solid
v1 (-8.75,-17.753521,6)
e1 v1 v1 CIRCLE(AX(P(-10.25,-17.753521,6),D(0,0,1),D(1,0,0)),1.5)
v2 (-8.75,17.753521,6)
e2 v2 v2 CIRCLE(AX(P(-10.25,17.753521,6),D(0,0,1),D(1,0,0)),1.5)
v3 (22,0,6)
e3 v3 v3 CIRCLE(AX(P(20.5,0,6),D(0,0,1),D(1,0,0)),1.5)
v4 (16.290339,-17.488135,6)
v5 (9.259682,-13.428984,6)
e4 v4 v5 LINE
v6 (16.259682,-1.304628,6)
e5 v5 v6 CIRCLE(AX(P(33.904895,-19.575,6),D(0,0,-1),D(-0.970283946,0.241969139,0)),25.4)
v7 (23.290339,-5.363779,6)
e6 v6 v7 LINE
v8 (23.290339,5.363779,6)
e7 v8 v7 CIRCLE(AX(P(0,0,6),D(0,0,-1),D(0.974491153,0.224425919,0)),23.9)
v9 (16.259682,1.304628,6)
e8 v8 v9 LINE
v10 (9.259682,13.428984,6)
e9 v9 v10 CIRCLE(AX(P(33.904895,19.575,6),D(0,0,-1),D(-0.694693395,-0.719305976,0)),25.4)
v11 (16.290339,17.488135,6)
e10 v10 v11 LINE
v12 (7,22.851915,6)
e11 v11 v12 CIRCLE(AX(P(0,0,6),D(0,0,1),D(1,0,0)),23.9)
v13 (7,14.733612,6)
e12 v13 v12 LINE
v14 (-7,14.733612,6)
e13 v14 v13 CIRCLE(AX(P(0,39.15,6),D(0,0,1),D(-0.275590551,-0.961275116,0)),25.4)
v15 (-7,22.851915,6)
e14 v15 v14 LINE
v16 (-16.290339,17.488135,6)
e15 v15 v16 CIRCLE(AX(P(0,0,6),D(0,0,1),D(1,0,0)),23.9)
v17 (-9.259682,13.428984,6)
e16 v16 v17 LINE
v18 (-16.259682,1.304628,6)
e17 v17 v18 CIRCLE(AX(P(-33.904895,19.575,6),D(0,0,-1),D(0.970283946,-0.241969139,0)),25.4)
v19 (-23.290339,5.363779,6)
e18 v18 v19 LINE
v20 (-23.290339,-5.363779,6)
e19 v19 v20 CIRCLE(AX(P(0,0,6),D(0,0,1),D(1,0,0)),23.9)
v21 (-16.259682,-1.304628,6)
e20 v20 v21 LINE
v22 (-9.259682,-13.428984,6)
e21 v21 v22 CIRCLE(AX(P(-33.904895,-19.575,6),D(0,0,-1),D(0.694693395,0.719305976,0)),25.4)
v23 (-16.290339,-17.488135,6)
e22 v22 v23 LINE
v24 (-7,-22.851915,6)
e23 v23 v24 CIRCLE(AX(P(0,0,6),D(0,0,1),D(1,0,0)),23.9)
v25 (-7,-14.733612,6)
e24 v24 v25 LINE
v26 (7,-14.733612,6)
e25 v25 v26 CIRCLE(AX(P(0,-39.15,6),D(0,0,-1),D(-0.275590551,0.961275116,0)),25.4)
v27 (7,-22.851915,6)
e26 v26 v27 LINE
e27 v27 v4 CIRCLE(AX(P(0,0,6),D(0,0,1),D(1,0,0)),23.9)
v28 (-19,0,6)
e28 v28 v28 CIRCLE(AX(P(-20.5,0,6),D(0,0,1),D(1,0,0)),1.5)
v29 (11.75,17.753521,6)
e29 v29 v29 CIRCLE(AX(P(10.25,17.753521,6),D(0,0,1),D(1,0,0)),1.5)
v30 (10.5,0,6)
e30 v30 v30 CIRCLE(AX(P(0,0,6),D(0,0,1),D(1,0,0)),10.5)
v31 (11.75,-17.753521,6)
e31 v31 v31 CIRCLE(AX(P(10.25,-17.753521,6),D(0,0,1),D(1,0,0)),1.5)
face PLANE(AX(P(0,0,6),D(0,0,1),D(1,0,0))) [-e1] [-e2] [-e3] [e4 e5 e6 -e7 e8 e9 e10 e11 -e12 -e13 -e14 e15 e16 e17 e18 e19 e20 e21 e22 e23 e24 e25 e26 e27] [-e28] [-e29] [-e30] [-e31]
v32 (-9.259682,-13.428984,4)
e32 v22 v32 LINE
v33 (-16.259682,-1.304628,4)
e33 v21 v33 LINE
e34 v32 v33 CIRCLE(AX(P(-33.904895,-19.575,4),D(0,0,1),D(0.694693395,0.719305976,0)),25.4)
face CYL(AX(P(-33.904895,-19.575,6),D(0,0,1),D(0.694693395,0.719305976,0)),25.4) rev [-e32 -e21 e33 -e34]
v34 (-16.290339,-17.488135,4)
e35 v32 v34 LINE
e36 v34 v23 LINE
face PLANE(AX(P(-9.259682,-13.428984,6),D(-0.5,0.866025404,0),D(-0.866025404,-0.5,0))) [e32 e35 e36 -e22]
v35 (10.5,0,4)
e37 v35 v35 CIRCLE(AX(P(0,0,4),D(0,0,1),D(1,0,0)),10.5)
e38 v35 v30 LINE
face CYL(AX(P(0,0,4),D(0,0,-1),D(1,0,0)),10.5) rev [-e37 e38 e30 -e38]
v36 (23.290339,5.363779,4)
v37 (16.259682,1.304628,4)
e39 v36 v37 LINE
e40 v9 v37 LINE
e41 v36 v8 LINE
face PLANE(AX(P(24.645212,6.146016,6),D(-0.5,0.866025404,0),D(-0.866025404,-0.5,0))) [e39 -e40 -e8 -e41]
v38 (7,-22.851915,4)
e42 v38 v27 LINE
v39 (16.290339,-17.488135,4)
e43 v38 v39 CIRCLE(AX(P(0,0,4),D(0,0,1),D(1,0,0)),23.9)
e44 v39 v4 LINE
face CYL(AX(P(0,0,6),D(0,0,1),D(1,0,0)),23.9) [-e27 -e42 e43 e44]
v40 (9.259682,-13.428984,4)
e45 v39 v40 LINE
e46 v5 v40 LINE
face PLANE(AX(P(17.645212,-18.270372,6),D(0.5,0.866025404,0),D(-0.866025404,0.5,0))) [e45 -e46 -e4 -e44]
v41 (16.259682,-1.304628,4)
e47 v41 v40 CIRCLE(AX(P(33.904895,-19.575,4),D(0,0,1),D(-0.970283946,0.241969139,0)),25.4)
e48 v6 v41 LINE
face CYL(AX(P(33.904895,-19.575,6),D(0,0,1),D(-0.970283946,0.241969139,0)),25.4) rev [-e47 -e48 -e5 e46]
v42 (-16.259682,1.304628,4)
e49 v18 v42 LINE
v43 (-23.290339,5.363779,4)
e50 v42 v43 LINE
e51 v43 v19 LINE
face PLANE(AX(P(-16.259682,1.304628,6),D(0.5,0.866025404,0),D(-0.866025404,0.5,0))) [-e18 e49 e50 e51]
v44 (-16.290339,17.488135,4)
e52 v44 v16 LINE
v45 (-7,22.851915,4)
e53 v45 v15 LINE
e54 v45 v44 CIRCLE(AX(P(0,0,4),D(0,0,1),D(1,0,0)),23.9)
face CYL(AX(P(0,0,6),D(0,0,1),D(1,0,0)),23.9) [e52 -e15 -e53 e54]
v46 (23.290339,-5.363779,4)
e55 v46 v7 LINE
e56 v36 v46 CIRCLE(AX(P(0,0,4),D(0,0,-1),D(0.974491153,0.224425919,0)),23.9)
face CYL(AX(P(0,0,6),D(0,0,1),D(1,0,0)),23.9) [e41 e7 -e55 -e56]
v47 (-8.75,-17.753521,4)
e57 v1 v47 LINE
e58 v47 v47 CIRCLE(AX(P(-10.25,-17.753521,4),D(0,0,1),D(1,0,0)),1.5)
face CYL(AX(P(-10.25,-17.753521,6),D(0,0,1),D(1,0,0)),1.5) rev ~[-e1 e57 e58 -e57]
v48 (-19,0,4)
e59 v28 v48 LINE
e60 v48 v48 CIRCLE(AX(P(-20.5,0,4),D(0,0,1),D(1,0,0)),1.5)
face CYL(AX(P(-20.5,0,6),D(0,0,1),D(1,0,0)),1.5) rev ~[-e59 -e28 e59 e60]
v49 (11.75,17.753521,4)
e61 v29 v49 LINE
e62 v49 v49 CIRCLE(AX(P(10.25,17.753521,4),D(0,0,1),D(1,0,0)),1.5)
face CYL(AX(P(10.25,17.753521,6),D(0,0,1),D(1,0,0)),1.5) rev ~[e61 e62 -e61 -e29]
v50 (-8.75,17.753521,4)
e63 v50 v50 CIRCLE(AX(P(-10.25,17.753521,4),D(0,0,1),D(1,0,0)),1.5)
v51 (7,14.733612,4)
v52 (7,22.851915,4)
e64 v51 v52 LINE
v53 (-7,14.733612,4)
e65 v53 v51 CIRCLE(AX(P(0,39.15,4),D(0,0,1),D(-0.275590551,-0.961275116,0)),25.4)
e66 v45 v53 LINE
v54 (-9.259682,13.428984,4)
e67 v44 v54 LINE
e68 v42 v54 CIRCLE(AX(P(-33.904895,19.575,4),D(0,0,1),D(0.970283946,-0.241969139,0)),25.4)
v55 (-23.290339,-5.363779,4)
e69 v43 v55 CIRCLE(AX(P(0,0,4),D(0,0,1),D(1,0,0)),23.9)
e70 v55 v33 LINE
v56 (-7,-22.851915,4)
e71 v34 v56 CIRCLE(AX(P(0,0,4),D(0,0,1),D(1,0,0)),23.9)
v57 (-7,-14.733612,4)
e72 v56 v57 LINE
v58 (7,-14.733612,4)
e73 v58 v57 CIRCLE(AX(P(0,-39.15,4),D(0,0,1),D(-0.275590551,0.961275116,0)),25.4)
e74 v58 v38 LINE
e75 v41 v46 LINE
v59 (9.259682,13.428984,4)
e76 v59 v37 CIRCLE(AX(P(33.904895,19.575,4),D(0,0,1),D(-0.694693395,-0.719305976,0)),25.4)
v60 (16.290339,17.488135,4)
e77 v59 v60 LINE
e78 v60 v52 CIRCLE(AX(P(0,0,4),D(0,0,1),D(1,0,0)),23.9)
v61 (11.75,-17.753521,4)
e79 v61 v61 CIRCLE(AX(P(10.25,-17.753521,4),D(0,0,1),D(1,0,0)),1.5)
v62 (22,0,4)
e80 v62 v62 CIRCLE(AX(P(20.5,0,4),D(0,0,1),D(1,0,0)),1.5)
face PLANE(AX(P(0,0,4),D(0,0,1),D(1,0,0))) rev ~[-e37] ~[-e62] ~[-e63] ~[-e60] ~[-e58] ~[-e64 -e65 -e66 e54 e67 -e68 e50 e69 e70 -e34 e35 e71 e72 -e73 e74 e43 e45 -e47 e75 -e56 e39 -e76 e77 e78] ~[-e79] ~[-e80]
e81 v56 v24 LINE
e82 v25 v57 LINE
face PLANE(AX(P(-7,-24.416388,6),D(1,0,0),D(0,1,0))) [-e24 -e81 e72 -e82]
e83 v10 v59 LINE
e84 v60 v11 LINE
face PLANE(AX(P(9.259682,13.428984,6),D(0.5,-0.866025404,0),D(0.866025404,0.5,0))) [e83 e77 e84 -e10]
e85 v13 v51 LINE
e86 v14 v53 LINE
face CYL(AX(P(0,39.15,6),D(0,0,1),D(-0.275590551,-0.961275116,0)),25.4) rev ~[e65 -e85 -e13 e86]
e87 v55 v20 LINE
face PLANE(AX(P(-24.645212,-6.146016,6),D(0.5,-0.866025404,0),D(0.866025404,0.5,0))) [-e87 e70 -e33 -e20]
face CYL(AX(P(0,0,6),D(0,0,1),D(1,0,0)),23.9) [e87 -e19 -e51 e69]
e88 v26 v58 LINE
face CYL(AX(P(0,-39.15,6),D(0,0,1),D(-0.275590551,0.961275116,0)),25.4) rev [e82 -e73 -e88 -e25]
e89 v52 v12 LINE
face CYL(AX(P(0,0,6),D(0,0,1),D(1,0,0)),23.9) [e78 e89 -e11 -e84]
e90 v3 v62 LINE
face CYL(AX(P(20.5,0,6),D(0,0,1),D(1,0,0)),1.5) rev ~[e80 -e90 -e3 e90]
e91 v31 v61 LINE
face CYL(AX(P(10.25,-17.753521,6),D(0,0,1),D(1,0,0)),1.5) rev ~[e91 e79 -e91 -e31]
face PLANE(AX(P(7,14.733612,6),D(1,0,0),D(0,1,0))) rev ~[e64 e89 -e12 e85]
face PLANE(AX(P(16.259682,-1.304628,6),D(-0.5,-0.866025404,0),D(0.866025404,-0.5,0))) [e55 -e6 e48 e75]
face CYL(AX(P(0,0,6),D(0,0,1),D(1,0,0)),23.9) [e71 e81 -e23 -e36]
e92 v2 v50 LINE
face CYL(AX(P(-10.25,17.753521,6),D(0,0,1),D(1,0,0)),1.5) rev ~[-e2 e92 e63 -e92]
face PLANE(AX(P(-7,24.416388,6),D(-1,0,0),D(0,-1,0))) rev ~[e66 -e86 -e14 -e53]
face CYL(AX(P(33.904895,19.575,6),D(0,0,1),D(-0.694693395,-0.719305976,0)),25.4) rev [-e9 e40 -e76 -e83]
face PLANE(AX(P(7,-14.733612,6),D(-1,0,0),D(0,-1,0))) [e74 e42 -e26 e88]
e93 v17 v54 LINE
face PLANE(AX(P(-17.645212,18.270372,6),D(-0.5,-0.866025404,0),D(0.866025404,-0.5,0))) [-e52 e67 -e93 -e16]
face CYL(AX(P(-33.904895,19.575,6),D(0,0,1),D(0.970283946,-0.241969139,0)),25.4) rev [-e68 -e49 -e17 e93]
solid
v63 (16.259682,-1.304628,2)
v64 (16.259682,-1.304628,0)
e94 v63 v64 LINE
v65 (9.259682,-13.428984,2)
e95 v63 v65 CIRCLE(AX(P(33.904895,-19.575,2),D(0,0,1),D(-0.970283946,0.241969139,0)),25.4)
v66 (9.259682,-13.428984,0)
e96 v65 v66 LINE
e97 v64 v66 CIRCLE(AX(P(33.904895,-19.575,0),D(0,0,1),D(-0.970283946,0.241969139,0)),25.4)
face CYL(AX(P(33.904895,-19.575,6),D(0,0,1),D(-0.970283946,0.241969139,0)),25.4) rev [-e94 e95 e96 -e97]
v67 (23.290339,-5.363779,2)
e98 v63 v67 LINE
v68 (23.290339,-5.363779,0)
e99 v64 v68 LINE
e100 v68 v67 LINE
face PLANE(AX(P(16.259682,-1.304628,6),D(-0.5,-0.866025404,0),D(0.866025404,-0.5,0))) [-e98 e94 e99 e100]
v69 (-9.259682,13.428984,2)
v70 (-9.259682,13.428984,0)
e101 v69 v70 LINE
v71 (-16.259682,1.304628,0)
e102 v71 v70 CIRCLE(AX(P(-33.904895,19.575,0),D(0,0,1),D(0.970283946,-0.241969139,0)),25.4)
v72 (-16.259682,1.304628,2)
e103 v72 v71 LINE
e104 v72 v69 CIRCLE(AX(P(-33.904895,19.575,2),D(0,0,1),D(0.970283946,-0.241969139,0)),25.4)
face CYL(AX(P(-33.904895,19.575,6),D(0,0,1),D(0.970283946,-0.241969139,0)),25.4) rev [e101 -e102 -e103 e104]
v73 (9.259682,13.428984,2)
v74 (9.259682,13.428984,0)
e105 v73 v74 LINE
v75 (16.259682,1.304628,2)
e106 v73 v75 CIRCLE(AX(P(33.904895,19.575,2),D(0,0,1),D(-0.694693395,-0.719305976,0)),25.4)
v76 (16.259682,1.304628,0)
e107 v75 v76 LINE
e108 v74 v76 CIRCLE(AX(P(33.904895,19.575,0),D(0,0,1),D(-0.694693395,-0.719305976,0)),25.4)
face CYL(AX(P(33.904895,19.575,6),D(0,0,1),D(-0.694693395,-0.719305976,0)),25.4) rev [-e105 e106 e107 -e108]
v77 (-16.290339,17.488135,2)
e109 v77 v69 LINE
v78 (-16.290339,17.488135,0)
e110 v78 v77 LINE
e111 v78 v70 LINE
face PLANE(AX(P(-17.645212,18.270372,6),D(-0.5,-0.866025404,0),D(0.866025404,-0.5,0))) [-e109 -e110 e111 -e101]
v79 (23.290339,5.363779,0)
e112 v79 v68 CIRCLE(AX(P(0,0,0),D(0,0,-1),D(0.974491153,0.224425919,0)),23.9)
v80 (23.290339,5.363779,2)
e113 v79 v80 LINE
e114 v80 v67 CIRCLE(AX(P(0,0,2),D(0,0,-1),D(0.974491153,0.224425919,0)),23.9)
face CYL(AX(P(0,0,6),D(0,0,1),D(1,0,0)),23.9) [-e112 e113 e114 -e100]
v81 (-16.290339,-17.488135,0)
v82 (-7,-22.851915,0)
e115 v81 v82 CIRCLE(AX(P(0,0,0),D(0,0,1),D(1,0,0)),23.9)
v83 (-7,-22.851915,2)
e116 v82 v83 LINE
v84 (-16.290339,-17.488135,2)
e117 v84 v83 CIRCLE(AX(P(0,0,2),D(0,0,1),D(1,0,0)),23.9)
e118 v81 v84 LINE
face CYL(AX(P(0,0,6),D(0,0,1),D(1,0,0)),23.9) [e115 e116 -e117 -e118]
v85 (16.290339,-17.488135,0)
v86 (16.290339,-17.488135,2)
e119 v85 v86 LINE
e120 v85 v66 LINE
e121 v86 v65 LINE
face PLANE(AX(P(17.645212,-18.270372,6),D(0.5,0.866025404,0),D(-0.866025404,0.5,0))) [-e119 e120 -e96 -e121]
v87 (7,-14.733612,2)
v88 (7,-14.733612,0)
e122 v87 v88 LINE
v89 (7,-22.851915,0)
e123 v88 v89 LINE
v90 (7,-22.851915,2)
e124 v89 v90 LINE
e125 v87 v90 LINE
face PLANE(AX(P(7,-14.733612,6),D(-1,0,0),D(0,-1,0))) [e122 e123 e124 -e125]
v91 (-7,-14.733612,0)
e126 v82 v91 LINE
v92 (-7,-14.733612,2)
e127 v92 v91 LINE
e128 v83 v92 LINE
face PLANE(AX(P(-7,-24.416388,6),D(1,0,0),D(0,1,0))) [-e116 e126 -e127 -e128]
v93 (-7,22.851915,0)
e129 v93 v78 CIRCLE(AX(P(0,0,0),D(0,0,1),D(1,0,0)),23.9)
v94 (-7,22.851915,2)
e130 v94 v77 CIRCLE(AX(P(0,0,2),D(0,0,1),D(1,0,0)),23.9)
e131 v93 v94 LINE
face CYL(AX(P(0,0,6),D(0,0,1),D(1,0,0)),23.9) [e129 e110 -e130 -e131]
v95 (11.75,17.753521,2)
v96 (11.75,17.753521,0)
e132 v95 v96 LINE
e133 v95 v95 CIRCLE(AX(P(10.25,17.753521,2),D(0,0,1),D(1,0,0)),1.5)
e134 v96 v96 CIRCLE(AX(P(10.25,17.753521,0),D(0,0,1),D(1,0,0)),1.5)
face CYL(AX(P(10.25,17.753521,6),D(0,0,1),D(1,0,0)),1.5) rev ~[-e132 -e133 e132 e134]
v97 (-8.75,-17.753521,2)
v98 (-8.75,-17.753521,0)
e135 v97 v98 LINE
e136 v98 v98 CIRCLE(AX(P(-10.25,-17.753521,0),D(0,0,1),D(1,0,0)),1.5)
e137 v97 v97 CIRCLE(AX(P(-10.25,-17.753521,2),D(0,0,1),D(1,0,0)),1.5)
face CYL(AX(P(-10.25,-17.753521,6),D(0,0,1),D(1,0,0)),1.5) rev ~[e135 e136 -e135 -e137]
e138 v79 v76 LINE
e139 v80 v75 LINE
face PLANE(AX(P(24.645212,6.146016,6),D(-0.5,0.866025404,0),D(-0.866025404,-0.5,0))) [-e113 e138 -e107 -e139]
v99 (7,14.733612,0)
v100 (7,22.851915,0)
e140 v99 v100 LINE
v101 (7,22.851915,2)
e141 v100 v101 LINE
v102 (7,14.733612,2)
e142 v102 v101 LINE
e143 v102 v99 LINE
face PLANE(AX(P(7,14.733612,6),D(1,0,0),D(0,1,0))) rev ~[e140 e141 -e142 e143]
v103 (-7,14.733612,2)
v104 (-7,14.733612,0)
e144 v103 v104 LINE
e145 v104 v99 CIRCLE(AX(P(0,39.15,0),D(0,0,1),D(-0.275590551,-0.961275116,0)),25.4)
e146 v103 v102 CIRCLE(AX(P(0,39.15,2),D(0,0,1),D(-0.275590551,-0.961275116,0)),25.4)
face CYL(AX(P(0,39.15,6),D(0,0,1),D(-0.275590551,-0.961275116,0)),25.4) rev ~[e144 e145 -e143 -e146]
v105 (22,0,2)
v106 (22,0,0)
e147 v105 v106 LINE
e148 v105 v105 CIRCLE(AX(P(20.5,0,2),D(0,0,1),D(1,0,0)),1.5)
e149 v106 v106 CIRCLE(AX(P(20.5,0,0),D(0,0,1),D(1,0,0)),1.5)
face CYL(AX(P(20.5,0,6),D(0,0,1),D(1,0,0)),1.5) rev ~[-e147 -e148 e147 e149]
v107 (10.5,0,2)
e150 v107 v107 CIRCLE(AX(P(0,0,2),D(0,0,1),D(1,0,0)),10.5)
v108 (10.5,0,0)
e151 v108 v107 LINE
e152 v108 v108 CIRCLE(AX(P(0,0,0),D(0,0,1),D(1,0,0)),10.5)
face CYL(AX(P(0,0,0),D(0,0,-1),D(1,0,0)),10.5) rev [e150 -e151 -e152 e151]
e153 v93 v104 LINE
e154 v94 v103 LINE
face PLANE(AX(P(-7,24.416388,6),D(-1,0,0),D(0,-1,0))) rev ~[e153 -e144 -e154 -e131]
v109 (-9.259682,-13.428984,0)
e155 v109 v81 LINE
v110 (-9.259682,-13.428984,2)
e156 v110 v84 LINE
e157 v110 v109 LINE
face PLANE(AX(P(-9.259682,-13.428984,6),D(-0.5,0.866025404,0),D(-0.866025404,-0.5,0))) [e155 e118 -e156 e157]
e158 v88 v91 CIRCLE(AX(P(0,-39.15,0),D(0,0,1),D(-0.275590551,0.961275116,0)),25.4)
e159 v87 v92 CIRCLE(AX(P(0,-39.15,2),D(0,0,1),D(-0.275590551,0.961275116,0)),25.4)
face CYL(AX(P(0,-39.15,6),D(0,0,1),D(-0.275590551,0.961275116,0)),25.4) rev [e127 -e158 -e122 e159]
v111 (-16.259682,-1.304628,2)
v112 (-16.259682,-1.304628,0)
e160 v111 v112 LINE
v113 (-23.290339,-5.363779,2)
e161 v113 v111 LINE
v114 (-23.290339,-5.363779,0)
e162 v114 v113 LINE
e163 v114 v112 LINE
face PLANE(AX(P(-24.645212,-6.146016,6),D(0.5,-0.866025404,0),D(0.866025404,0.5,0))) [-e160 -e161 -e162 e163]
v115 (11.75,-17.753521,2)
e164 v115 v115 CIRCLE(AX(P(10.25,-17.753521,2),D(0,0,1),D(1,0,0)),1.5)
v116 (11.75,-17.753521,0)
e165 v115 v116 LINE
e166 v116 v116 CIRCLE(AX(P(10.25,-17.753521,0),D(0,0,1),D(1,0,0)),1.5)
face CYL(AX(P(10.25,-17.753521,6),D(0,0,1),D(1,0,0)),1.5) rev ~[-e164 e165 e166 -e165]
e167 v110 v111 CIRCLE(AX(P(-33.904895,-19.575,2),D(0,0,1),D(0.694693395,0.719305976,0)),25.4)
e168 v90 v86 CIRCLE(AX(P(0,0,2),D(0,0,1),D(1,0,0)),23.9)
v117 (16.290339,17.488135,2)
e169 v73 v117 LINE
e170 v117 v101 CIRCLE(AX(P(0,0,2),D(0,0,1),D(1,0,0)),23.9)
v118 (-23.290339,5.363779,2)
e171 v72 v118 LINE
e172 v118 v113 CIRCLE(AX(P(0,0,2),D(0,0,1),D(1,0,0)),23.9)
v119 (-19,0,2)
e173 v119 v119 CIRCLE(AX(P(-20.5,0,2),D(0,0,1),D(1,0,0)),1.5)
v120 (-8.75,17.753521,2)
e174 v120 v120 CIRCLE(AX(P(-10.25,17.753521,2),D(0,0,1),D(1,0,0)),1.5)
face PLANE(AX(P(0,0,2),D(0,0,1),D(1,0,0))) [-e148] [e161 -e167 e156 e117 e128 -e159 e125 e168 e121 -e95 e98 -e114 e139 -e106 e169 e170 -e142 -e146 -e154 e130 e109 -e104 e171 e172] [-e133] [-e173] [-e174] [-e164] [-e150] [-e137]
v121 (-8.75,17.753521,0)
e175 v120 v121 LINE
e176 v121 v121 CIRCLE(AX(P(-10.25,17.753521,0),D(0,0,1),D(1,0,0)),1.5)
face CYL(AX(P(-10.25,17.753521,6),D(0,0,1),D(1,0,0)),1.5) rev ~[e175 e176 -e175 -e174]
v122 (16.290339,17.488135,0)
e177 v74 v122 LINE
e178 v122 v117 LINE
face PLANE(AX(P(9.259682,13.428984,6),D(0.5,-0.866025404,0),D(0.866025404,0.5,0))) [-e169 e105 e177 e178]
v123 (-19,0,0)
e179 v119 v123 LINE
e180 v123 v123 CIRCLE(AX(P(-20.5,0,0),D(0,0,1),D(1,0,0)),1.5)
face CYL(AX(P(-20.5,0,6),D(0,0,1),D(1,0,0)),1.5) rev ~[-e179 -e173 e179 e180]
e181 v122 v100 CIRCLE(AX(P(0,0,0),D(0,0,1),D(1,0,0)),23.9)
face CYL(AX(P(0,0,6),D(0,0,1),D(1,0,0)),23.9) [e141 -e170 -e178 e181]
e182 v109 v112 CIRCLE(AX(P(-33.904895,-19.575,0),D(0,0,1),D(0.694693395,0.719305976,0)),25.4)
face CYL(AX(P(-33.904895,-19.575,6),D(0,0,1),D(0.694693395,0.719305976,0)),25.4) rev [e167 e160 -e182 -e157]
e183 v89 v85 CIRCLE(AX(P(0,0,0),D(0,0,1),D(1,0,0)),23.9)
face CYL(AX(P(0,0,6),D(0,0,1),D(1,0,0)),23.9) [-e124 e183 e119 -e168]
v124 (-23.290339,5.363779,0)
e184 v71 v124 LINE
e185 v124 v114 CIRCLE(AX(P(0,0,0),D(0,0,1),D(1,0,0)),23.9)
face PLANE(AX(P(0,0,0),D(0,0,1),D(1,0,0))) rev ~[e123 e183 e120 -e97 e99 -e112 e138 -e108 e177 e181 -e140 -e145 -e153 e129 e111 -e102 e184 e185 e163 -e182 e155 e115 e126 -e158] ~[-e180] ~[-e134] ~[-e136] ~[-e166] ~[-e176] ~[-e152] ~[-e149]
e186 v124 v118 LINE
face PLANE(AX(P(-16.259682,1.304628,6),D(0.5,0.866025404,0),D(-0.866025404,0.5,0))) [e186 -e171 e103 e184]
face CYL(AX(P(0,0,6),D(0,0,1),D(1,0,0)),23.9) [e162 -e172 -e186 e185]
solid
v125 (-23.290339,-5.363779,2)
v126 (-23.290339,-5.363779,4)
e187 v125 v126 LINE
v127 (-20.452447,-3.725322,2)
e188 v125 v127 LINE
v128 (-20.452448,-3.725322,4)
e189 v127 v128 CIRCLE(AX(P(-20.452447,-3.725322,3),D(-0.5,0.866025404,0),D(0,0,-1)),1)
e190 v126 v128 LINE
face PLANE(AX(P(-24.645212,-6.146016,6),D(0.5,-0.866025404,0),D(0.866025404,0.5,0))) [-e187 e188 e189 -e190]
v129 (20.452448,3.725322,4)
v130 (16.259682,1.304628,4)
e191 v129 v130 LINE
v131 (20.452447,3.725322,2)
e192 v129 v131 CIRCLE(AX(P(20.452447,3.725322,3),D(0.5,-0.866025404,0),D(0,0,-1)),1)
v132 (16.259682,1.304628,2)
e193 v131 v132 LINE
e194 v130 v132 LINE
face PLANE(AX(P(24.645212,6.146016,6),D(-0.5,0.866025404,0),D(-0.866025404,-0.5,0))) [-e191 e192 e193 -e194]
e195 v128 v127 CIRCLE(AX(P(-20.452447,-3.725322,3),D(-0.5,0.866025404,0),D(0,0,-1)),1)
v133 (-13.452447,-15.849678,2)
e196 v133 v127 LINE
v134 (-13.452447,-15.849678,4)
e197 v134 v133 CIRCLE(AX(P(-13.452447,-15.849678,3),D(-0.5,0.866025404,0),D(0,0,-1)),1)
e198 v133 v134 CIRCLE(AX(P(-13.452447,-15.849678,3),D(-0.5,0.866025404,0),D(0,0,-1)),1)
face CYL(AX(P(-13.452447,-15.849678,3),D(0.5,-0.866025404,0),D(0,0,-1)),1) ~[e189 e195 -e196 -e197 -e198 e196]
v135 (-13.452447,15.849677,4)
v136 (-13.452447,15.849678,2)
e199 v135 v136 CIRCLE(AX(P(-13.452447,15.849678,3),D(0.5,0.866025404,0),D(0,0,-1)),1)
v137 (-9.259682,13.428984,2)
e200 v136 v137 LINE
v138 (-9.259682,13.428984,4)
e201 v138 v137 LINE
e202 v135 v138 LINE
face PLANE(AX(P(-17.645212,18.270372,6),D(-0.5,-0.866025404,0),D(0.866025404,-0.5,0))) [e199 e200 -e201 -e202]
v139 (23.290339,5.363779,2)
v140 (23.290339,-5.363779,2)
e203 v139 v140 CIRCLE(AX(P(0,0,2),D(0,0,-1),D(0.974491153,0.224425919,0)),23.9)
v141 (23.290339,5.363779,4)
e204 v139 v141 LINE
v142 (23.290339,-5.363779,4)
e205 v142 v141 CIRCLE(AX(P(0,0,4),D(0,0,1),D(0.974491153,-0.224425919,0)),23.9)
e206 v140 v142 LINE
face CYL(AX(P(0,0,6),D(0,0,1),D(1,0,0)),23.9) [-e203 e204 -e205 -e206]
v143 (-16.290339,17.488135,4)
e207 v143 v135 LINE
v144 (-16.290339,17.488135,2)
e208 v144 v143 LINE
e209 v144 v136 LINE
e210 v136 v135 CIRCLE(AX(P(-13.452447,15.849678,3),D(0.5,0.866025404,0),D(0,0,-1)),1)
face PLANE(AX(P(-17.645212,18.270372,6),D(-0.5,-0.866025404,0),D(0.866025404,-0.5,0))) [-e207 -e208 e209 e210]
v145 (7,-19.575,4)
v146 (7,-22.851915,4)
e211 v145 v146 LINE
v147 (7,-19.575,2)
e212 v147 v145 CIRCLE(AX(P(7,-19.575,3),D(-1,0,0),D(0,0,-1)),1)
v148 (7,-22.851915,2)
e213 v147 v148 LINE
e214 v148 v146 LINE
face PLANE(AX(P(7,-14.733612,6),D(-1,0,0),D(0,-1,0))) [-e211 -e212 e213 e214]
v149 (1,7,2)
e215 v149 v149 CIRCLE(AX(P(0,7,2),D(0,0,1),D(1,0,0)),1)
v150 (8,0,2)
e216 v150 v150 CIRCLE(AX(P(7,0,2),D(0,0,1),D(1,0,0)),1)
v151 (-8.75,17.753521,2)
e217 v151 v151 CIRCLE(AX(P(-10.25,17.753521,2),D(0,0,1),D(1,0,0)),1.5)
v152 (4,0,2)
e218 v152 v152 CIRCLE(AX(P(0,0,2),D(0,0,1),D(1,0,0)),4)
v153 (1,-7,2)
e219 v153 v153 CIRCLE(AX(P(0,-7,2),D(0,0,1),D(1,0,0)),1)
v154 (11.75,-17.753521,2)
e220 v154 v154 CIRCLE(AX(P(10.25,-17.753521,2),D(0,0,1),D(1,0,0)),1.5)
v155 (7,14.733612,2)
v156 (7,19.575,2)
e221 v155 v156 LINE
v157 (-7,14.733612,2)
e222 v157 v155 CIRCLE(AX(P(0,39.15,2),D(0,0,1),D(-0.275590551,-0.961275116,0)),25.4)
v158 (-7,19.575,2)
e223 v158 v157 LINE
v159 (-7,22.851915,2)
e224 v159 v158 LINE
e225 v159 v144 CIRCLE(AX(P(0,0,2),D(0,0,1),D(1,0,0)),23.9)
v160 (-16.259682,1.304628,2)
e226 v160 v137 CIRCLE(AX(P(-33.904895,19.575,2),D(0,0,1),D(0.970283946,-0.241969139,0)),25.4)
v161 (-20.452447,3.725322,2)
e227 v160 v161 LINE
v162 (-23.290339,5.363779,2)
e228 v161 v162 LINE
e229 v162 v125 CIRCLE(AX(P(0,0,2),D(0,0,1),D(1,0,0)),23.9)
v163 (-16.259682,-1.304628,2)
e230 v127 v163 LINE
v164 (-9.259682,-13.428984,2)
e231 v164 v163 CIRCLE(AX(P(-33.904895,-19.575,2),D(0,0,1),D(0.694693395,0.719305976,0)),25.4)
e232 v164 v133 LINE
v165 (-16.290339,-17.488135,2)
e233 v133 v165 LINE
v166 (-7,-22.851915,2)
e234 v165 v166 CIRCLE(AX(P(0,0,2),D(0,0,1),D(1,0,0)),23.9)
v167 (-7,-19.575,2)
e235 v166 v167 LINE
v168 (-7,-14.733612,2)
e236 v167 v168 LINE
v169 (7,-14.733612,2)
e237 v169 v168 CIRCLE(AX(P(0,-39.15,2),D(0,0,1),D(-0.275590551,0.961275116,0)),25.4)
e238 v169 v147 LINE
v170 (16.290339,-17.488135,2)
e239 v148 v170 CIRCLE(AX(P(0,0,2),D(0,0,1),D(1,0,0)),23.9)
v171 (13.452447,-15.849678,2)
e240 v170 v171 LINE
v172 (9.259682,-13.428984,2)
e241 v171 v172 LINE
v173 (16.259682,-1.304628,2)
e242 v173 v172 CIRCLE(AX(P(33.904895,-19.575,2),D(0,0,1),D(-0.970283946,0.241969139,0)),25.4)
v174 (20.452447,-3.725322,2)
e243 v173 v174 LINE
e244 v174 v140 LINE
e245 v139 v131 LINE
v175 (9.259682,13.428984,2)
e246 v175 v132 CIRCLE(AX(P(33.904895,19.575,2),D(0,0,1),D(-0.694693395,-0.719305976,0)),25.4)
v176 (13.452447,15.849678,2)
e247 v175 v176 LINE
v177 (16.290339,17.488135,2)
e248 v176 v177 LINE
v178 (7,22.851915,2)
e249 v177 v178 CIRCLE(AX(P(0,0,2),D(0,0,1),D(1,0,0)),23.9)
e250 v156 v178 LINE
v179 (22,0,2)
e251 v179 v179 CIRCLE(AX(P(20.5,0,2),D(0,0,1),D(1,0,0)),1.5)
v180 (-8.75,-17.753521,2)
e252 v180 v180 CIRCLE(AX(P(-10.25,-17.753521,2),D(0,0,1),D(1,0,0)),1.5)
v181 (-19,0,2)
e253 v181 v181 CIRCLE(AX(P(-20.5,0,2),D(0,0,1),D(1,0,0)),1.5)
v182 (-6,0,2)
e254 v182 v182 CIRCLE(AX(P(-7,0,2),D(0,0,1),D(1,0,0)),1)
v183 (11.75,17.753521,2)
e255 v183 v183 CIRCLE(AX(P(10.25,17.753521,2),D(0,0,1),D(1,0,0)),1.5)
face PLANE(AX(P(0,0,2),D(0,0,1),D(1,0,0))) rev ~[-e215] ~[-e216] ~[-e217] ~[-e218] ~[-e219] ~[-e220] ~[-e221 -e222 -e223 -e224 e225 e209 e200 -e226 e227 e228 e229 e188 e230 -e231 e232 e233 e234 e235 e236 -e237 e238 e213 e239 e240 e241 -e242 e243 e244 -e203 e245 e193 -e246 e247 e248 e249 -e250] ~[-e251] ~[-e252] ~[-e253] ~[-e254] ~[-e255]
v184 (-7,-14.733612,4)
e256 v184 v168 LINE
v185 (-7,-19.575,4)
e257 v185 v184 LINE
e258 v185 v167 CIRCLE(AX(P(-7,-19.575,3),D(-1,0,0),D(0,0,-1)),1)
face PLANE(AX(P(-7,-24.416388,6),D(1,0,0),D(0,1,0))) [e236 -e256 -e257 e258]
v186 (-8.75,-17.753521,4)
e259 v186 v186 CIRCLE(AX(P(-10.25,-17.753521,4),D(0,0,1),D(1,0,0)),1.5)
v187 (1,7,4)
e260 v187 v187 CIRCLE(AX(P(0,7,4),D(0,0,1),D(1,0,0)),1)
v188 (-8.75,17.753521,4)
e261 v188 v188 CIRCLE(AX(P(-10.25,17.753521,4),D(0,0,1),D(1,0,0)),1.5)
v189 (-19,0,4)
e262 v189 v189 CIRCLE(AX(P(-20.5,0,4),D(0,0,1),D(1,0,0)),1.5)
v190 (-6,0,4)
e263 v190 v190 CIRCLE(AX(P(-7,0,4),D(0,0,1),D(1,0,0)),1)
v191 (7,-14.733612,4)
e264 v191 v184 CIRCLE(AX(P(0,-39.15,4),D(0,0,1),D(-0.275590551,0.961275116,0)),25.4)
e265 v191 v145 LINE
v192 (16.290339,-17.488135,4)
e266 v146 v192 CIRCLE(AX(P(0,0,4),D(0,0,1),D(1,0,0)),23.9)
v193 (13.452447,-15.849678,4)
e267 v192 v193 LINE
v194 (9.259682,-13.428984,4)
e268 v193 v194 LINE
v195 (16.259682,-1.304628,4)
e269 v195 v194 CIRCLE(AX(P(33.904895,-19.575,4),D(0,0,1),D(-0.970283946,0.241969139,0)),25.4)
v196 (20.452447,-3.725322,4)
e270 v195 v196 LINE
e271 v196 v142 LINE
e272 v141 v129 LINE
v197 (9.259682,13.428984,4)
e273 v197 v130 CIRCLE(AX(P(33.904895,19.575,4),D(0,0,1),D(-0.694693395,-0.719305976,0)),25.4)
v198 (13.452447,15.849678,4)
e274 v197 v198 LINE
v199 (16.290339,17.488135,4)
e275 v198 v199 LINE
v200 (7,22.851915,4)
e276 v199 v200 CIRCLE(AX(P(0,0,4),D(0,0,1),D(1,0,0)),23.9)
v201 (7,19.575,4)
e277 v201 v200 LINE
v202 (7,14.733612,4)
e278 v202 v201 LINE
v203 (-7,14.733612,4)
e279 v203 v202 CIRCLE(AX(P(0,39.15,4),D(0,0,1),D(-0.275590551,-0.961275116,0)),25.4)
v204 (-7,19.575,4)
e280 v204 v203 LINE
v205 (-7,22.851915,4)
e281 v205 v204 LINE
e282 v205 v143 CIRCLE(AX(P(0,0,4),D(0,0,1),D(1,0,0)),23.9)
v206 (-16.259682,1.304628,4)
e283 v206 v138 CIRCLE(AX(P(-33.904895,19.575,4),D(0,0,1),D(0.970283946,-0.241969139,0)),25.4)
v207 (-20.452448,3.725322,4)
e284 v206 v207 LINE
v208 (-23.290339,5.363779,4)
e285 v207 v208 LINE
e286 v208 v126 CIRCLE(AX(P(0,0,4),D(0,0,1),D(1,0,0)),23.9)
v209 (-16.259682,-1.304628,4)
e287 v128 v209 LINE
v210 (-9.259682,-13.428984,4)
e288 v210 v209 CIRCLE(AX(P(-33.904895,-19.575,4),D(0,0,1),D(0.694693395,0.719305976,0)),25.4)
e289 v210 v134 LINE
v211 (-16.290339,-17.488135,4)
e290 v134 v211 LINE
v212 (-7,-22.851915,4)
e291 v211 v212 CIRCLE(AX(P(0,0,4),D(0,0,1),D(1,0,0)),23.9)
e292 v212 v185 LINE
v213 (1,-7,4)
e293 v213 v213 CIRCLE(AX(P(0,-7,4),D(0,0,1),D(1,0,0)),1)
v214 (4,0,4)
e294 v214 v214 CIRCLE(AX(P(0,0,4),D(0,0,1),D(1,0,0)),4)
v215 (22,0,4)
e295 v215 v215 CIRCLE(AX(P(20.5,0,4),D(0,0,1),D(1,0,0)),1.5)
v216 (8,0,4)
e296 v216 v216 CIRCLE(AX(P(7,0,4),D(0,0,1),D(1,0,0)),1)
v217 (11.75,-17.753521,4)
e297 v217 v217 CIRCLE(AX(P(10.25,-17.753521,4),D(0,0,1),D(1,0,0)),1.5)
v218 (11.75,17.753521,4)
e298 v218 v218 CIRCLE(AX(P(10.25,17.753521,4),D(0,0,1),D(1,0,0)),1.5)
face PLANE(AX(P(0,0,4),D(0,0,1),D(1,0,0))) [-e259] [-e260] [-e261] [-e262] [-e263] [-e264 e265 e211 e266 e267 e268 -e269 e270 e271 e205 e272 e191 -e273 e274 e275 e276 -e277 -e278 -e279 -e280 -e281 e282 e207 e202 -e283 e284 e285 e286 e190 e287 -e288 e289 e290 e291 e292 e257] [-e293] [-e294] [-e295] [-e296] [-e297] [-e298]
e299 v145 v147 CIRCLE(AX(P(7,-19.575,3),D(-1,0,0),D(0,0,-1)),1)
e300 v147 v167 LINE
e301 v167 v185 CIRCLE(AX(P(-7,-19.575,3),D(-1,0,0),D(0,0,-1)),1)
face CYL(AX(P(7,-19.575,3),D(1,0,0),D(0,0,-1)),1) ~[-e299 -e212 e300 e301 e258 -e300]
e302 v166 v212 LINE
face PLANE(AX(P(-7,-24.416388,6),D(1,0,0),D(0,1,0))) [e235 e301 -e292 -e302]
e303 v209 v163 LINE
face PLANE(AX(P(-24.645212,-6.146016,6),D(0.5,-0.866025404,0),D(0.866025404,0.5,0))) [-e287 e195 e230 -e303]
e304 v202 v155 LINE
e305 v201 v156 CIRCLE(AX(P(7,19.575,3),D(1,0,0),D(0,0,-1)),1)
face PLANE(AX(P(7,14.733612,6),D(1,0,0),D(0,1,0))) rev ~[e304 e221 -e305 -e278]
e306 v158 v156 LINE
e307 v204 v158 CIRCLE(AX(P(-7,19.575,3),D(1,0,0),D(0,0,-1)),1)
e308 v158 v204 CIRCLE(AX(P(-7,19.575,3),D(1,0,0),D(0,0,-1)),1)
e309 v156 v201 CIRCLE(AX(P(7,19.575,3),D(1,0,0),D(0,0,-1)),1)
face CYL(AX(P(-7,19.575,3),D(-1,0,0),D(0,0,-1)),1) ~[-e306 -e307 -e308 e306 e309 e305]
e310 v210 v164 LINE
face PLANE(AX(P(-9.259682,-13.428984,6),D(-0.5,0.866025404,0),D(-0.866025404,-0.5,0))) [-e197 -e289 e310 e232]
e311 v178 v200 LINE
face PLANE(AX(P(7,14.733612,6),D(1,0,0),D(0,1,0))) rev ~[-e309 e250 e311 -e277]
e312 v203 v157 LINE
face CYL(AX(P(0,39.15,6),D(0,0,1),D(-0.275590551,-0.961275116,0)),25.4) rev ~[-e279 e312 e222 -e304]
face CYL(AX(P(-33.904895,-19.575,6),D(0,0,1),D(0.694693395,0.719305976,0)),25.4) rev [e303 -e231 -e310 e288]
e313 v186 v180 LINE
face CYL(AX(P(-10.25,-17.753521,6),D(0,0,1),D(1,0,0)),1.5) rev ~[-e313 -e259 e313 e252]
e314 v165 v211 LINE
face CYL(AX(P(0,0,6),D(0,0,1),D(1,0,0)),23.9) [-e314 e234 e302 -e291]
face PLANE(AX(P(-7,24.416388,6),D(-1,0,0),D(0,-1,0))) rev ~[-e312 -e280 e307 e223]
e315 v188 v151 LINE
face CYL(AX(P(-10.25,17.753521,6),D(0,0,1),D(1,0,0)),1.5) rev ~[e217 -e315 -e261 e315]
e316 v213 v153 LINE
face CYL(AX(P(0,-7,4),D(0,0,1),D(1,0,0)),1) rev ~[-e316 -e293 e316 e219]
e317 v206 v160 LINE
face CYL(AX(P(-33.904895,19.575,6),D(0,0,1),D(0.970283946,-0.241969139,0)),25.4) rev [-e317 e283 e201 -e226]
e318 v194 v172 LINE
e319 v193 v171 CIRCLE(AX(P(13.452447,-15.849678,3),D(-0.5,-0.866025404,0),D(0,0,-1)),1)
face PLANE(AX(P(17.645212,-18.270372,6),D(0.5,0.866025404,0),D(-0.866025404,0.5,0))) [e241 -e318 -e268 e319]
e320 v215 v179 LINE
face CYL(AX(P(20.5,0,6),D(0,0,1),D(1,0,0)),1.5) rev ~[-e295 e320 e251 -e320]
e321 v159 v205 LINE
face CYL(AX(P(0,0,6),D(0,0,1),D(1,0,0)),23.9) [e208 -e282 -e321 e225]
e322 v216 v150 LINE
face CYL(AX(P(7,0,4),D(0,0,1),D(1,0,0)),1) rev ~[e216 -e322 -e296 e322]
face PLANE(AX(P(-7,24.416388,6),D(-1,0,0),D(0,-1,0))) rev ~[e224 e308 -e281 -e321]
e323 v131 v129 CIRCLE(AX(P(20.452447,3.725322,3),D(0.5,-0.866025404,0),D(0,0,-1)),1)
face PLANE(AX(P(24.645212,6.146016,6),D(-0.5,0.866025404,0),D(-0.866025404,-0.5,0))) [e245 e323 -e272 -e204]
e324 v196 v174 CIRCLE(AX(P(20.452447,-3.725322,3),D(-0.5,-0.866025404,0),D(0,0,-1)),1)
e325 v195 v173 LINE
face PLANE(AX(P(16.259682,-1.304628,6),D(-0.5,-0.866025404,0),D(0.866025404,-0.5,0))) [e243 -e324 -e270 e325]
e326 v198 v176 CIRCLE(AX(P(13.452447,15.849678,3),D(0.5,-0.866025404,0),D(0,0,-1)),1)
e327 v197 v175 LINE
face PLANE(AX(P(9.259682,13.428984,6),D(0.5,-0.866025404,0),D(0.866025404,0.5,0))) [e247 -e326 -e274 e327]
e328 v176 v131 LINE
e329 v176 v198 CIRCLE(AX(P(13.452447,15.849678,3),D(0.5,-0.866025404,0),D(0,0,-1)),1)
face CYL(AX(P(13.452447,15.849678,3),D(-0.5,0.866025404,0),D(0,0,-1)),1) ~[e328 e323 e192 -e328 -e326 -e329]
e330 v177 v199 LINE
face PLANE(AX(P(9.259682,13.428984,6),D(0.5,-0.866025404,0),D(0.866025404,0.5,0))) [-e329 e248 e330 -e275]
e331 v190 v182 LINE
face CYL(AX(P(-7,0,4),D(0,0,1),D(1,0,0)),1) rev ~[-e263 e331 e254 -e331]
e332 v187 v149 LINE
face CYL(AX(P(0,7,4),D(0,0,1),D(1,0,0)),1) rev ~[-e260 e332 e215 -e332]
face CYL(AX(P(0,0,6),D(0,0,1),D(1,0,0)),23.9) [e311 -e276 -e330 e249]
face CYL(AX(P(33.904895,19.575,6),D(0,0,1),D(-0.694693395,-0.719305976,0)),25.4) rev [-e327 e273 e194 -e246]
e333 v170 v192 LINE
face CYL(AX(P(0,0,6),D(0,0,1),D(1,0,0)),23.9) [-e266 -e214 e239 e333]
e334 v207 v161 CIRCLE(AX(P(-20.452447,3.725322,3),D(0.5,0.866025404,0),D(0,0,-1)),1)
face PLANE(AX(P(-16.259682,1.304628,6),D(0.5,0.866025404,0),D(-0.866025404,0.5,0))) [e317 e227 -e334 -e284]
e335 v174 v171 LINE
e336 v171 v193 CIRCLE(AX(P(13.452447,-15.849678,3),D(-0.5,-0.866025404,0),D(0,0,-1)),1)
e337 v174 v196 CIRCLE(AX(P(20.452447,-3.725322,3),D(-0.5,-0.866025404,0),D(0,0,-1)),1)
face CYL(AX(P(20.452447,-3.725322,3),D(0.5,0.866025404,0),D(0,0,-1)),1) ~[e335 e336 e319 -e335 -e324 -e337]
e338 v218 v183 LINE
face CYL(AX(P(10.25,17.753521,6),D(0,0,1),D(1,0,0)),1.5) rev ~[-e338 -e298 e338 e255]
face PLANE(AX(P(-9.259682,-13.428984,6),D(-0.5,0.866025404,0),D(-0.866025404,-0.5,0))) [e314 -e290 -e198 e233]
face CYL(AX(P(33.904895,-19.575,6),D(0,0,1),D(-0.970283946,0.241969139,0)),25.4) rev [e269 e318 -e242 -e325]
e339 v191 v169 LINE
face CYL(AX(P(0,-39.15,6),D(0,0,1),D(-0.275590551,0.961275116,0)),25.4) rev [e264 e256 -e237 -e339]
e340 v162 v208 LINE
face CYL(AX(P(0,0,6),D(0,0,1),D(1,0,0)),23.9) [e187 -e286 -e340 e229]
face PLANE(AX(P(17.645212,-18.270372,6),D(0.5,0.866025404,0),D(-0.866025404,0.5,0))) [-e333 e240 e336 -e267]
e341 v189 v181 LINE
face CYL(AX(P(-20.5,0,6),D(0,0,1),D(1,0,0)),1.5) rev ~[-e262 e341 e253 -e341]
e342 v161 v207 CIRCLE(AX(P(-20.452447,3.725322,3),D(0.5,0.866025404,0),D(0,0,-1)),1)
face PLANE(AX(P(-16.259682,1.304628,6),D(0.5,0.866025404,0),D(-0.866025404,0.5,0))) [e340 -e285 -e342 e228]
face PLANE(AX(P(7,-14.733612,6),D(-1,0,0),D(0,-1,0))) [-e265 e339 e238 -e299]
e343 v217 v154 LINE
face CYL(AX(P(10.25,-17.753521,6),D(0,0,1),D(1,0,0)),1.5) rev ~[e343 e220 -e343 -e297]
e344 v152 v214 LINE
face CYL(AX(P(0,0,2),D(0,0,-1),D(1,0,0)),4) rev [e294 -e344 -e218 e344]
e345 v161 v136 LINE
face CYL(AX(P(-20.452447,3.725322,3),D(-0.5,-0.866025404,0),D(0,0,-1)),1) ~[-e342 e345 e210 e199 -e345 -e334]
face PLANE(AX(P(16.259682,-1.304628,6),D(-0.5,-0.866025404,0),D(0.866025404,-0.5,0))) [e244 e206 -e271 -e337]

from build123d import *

# Parameters (mm, degrees)
SKETCH_1_R               = 25.4
SKETCH_1_R_2             = 10.5
EXTRUDE_1_DEPTH          = 2
SKETCH_2_R               = 25.4
SKETCH_2_R_2             = 4
EXTRUDE_2_DEPTH          = 2
SKETCH_3_R               = 25.4
SKETCH_3_R_2             = 10.5
EXTRUDE_3_DEPTH          = 2
CUT_EXTRUDE_1_DEPTH      = 20.5
SKETCH_5_R               = 1.5
CUT_EXTRUDE_2_DEPTH      = 20.5
SKETCH_6_R               = 1
EXTRUDE_4_DEPTH          = 14
PATTERN_CIRCULAR_1_COUNT = 6
SKETCH_7_R               = 1
CUT_EXTRUDE_3_DEPTH      = 14
SKETCH_8_R               = 33.9
SKETCH_8_R_2             = 23.9
CUT_EXTRUDE_1_2_DEPTH    = 10


with BuildPart() as part:
    # 草图1 → 凸台-拉伸1 (new body)
    with BuildSketch(Plane.XY):
        Circle(SKETCH_1_R)
        Circle(SKETCH_1_R_2, mode=Mode.SUBTRACT)
    extrude(amount=EXTRUDE_1_DEPTH)


with BuildPart() as body_2:
    # 草图2 → 凸台-拉伸2 (new body)
    with BuildSketch(Plane.XY.offset(2)):
        Circle(SKETCH_2_R)
        Circle(SKETCH_2_R_2, mode=Mode.SUBTRACT)
    extrude(amount=EXTRUDE_2_DEPTH)


with BuildPart() as body_3:
    # 草图3 → 凸台-拉伸3 (new body)
    with BuildSketch(Plane.XY.offset(4)):
        Circle(SKETCH_3_R)
        Circle(SKETCH_3_R_2, mode=Mode.SUBTRACT)
    extrude(amount=EXTRUDE_3_DEPTH)


with BuildPart() as cut_extrude_1_tool:
    # 草图4 → Cut-Extrude 1 (new body)
    with BuildSketch(Plane.XY.offset(6)):
        with BuildLine():
            Line((9.259682334, 13.428983857), (17.645212224, 18.270371796))
            ThreePointArc((17.645212224, 18.270371796), (21.997045256, 12.7), (24.645212224, 6.146016143))
            Line((24.645212224, 6.146016143), (16.259682334, 1.304628204))
            ThreePointArc((16.259682334, 1.304628204), (11.907849302, 6.875), (9.259682334, 13.428983857))
        make_face()
        with BuildLine():
            Line((7, 14.733612061), (7, 24.416387939))
            ThreePointArc((7, 24.416387939), (0, 25.4), (-7, 24.416387939))
            Line((-7, 24.416387939), (-7, 14.733612061))
            ThreePointArc((-7, 14.733612061), (0, 13.75), (7, 14.733612061))
        make_face()
        with BuildLine():
            Line((16.259682334, -1.304628204), (24.645212224, -6.146016143))
            ThreePointArc((24.645212224, -6.146016143), (21.997045256, -12.7), (17.645212224, -18.270371796))
            Line((17.645212224, -18.270371796), (9.259682334, -13.428983857))
            ThreePointArc((9.259682334, -13.428983857), (11.907849302, -6.875), (16.259682334, -1.304628204))
        make_face()
        with BuildLine():
            Line((7, -14.733612061), (7, -24.416387939))
            ThreePointArc((7, -24.416387939), (0, -25.4), (-7, -24.416387939))
            Line((-7, -24.416387939), (-7, -14.733612061))
            ThreePointArc((-7, -14.733612061), (0, -13.75), (7, -14.733612061))
        make_face()
        with BuildLine():
            Line((-9.259682334, -13.428983857), (-17.645212224, -18.270371796))
            ThreePointArc((-17.645212224, -18.270371796), (-21.997045256, -12.7), (-24.645212224, -6.146016143))
            Line((-24.645212224, -6.146016143), (-16.259682334, -1.304628204))
            ThreePointArc((-16.259682334, -1.304628204), (-11.907849302, -6.875), (-9.259682334, -13.428983857))
        make_face()
        with BuildLine():
            Line((-16.259682334, 1.304628204), (-24.645212224, 6.146016143))
            ThreePointArc((-24.645212224, 6.146016143), (-21.997045256, 12.7), (-17.645212224, 18.270371796))
            Line((-17.645212224, 18.270371796), (-9.259682334, 13.428983857))
            ThreePointArc((-9.259682334, 13.428983857), (-11.907849302, 6.875), (-16.259682334, 1.304628204))
        make_face()
    extrude(amount=-CUT_EXTRUDE_1_DEPTH)


with BuildPart() as part_1:
    add(part.part)

    # Cut-Extrude 1: cut by cut_extrude_1_tool
    add(cut_extrude_1_tool.part, mode=Mode.SUBTRACT)


with BuildPart() as body_2_1:
    add(body_2.part)

    # Cut-Extrude 1: cut by cut_extrude_1_tool
    add(cut_extrude_1_tool.part, mode=Mode.SUBTRACT)


with BuildPart() as body_3_1:
    add(body_3.part)

    # Cut-Extrude 1: cut by cut_extrude_1_tool
    add(cut_extrude_1_tool.part, mode=Mode.SUBTRACT)


with BuildPart() as cut_extrude_2_tool:
    # 草图5 → 切除-拉伸2 (new body)
    with BuildSketch(Plane.XY.offset(6)):
        with Locations((10.25, 17.753520778)):
            Circle(SKETCH_5_R)
        with Locations((20.5, 0)):
            Circle(SKETCH_5_R)
        with Locations((10.25, -17.753520778)):
            Circle(SKETCH_5_R)
        with Locations((-10.25, -17.753520778)):
            Circle(SKETCH_5_R)
        with Locations((-20.5, 0)):
            Circle(SKETCH_5_R)
        with Locations((-10.25, 17.753520778)):
            Circle(SKETCH_5_R)
    extrude(amount=-CUT_EXTRUDE_2_DEPTH)


with BuildPart() as part_2:
    add(part_1.part)

    # 切除-拉伸2: cut by cut_extrude_2_tool
    add(cut_extrude_2_tool.part, mode=Mode.SUBTRACT)


with BuildPart() as body_2_2:
    add(body_2_1.part)

    # 切除-拉伸2: cut by cut_extrude_2_tool
    add(cut_extrude_2_tool.part, mode=Mode.SUBTRACT)

    # 草图6 → 凸台-拉伸4 (add)
    with BuildSketch(Plane(origin=(-7, 0, 0), x_dir=(0, 0, -1), z_dir=(1, 0, 0))):
        with Locations((-3, 19.575)):
            Circle(SKETCH_6_R)
    extrude_4 = extrude(amount=EXTRUDE_4_DEPTH)

    # 阵列(圆周)1: 凸台-拉伸4 ×6 about axis
    pattern_circular_1_axis = Axis((0, 0, 6), (0, 0, 1))
    for i in range(1, PATTERN_CIRCULAR_1_COUNT):
        add(extrude_4.rotate(pattern_circular_1_axis, i * 360 / PATTERN_CIRCULAR_1_COUNT))

    # 草图7 → 切除-拉伸3 (cut)
    with BuildSketch(Plane.XY.offset(4)):
        with Locations((-7, 0)):
            Circle(SKETCH_7_R)
        with Locations((0, 7)):
            Circle(SKETCH_7_R)
        with Locations((7, 0)):
            Circle(SKETCH_7_R)
        with Locations((0, -7)):
            Circle(SKETCH_7_R)
    extrude(amount=-CUT_EXTRUDE_3_DEPTH, mode=Mode.SUBTRACT)


with BuildPart() as body_3_2:
    add(body_3_1.part)

    # 切除-拉伸2: cut by cut_extrude_2_tool
    add(cut_extrude_2_tool.part, mode=Mode.SUBTRACT)


with BuildPart() as cut_extrude_1_2_tool:
    # 草图8 → Cut-Extrude 1 2 (new body)
    with BuildSketch(Plane.XY.offset(6)):
        Circle(SKETCH_8_R)
        Circle(SKETCH_8_R_2, mode=Mode.SUBTRACT)
    extrude(amount=-CUT_EXTRUDE_1_2_DEPTH)


with BuildPart() as part_3:
    add(part_2.part)

    # Cut-Extrude 1 2: cut by cut_extrude_1_2_tool
    add(cut_extrude_1_2_tool.part, mode=Mode.SUBTRACT)


with BuildPart() as body_2_3:
    add(body_2_2.part)

    # Cut-Extrude 1 2: cut by cut_extrude_1_2_tool
    add(cut_extrude_1_2_tool.part, mode=Mode.SUBTRACT)


with BuildPart() as body_3_3:
    add(body_3_2.part)

    # Cut-Extrude 1 2: cut by cut_extrude_1_2_tool
    add(cut_extrude_1_2_tool.part, mode=Mode.SUBTRACT)


solid = Compound([part_3.part, body_2_3.part, body_3_3.part])
